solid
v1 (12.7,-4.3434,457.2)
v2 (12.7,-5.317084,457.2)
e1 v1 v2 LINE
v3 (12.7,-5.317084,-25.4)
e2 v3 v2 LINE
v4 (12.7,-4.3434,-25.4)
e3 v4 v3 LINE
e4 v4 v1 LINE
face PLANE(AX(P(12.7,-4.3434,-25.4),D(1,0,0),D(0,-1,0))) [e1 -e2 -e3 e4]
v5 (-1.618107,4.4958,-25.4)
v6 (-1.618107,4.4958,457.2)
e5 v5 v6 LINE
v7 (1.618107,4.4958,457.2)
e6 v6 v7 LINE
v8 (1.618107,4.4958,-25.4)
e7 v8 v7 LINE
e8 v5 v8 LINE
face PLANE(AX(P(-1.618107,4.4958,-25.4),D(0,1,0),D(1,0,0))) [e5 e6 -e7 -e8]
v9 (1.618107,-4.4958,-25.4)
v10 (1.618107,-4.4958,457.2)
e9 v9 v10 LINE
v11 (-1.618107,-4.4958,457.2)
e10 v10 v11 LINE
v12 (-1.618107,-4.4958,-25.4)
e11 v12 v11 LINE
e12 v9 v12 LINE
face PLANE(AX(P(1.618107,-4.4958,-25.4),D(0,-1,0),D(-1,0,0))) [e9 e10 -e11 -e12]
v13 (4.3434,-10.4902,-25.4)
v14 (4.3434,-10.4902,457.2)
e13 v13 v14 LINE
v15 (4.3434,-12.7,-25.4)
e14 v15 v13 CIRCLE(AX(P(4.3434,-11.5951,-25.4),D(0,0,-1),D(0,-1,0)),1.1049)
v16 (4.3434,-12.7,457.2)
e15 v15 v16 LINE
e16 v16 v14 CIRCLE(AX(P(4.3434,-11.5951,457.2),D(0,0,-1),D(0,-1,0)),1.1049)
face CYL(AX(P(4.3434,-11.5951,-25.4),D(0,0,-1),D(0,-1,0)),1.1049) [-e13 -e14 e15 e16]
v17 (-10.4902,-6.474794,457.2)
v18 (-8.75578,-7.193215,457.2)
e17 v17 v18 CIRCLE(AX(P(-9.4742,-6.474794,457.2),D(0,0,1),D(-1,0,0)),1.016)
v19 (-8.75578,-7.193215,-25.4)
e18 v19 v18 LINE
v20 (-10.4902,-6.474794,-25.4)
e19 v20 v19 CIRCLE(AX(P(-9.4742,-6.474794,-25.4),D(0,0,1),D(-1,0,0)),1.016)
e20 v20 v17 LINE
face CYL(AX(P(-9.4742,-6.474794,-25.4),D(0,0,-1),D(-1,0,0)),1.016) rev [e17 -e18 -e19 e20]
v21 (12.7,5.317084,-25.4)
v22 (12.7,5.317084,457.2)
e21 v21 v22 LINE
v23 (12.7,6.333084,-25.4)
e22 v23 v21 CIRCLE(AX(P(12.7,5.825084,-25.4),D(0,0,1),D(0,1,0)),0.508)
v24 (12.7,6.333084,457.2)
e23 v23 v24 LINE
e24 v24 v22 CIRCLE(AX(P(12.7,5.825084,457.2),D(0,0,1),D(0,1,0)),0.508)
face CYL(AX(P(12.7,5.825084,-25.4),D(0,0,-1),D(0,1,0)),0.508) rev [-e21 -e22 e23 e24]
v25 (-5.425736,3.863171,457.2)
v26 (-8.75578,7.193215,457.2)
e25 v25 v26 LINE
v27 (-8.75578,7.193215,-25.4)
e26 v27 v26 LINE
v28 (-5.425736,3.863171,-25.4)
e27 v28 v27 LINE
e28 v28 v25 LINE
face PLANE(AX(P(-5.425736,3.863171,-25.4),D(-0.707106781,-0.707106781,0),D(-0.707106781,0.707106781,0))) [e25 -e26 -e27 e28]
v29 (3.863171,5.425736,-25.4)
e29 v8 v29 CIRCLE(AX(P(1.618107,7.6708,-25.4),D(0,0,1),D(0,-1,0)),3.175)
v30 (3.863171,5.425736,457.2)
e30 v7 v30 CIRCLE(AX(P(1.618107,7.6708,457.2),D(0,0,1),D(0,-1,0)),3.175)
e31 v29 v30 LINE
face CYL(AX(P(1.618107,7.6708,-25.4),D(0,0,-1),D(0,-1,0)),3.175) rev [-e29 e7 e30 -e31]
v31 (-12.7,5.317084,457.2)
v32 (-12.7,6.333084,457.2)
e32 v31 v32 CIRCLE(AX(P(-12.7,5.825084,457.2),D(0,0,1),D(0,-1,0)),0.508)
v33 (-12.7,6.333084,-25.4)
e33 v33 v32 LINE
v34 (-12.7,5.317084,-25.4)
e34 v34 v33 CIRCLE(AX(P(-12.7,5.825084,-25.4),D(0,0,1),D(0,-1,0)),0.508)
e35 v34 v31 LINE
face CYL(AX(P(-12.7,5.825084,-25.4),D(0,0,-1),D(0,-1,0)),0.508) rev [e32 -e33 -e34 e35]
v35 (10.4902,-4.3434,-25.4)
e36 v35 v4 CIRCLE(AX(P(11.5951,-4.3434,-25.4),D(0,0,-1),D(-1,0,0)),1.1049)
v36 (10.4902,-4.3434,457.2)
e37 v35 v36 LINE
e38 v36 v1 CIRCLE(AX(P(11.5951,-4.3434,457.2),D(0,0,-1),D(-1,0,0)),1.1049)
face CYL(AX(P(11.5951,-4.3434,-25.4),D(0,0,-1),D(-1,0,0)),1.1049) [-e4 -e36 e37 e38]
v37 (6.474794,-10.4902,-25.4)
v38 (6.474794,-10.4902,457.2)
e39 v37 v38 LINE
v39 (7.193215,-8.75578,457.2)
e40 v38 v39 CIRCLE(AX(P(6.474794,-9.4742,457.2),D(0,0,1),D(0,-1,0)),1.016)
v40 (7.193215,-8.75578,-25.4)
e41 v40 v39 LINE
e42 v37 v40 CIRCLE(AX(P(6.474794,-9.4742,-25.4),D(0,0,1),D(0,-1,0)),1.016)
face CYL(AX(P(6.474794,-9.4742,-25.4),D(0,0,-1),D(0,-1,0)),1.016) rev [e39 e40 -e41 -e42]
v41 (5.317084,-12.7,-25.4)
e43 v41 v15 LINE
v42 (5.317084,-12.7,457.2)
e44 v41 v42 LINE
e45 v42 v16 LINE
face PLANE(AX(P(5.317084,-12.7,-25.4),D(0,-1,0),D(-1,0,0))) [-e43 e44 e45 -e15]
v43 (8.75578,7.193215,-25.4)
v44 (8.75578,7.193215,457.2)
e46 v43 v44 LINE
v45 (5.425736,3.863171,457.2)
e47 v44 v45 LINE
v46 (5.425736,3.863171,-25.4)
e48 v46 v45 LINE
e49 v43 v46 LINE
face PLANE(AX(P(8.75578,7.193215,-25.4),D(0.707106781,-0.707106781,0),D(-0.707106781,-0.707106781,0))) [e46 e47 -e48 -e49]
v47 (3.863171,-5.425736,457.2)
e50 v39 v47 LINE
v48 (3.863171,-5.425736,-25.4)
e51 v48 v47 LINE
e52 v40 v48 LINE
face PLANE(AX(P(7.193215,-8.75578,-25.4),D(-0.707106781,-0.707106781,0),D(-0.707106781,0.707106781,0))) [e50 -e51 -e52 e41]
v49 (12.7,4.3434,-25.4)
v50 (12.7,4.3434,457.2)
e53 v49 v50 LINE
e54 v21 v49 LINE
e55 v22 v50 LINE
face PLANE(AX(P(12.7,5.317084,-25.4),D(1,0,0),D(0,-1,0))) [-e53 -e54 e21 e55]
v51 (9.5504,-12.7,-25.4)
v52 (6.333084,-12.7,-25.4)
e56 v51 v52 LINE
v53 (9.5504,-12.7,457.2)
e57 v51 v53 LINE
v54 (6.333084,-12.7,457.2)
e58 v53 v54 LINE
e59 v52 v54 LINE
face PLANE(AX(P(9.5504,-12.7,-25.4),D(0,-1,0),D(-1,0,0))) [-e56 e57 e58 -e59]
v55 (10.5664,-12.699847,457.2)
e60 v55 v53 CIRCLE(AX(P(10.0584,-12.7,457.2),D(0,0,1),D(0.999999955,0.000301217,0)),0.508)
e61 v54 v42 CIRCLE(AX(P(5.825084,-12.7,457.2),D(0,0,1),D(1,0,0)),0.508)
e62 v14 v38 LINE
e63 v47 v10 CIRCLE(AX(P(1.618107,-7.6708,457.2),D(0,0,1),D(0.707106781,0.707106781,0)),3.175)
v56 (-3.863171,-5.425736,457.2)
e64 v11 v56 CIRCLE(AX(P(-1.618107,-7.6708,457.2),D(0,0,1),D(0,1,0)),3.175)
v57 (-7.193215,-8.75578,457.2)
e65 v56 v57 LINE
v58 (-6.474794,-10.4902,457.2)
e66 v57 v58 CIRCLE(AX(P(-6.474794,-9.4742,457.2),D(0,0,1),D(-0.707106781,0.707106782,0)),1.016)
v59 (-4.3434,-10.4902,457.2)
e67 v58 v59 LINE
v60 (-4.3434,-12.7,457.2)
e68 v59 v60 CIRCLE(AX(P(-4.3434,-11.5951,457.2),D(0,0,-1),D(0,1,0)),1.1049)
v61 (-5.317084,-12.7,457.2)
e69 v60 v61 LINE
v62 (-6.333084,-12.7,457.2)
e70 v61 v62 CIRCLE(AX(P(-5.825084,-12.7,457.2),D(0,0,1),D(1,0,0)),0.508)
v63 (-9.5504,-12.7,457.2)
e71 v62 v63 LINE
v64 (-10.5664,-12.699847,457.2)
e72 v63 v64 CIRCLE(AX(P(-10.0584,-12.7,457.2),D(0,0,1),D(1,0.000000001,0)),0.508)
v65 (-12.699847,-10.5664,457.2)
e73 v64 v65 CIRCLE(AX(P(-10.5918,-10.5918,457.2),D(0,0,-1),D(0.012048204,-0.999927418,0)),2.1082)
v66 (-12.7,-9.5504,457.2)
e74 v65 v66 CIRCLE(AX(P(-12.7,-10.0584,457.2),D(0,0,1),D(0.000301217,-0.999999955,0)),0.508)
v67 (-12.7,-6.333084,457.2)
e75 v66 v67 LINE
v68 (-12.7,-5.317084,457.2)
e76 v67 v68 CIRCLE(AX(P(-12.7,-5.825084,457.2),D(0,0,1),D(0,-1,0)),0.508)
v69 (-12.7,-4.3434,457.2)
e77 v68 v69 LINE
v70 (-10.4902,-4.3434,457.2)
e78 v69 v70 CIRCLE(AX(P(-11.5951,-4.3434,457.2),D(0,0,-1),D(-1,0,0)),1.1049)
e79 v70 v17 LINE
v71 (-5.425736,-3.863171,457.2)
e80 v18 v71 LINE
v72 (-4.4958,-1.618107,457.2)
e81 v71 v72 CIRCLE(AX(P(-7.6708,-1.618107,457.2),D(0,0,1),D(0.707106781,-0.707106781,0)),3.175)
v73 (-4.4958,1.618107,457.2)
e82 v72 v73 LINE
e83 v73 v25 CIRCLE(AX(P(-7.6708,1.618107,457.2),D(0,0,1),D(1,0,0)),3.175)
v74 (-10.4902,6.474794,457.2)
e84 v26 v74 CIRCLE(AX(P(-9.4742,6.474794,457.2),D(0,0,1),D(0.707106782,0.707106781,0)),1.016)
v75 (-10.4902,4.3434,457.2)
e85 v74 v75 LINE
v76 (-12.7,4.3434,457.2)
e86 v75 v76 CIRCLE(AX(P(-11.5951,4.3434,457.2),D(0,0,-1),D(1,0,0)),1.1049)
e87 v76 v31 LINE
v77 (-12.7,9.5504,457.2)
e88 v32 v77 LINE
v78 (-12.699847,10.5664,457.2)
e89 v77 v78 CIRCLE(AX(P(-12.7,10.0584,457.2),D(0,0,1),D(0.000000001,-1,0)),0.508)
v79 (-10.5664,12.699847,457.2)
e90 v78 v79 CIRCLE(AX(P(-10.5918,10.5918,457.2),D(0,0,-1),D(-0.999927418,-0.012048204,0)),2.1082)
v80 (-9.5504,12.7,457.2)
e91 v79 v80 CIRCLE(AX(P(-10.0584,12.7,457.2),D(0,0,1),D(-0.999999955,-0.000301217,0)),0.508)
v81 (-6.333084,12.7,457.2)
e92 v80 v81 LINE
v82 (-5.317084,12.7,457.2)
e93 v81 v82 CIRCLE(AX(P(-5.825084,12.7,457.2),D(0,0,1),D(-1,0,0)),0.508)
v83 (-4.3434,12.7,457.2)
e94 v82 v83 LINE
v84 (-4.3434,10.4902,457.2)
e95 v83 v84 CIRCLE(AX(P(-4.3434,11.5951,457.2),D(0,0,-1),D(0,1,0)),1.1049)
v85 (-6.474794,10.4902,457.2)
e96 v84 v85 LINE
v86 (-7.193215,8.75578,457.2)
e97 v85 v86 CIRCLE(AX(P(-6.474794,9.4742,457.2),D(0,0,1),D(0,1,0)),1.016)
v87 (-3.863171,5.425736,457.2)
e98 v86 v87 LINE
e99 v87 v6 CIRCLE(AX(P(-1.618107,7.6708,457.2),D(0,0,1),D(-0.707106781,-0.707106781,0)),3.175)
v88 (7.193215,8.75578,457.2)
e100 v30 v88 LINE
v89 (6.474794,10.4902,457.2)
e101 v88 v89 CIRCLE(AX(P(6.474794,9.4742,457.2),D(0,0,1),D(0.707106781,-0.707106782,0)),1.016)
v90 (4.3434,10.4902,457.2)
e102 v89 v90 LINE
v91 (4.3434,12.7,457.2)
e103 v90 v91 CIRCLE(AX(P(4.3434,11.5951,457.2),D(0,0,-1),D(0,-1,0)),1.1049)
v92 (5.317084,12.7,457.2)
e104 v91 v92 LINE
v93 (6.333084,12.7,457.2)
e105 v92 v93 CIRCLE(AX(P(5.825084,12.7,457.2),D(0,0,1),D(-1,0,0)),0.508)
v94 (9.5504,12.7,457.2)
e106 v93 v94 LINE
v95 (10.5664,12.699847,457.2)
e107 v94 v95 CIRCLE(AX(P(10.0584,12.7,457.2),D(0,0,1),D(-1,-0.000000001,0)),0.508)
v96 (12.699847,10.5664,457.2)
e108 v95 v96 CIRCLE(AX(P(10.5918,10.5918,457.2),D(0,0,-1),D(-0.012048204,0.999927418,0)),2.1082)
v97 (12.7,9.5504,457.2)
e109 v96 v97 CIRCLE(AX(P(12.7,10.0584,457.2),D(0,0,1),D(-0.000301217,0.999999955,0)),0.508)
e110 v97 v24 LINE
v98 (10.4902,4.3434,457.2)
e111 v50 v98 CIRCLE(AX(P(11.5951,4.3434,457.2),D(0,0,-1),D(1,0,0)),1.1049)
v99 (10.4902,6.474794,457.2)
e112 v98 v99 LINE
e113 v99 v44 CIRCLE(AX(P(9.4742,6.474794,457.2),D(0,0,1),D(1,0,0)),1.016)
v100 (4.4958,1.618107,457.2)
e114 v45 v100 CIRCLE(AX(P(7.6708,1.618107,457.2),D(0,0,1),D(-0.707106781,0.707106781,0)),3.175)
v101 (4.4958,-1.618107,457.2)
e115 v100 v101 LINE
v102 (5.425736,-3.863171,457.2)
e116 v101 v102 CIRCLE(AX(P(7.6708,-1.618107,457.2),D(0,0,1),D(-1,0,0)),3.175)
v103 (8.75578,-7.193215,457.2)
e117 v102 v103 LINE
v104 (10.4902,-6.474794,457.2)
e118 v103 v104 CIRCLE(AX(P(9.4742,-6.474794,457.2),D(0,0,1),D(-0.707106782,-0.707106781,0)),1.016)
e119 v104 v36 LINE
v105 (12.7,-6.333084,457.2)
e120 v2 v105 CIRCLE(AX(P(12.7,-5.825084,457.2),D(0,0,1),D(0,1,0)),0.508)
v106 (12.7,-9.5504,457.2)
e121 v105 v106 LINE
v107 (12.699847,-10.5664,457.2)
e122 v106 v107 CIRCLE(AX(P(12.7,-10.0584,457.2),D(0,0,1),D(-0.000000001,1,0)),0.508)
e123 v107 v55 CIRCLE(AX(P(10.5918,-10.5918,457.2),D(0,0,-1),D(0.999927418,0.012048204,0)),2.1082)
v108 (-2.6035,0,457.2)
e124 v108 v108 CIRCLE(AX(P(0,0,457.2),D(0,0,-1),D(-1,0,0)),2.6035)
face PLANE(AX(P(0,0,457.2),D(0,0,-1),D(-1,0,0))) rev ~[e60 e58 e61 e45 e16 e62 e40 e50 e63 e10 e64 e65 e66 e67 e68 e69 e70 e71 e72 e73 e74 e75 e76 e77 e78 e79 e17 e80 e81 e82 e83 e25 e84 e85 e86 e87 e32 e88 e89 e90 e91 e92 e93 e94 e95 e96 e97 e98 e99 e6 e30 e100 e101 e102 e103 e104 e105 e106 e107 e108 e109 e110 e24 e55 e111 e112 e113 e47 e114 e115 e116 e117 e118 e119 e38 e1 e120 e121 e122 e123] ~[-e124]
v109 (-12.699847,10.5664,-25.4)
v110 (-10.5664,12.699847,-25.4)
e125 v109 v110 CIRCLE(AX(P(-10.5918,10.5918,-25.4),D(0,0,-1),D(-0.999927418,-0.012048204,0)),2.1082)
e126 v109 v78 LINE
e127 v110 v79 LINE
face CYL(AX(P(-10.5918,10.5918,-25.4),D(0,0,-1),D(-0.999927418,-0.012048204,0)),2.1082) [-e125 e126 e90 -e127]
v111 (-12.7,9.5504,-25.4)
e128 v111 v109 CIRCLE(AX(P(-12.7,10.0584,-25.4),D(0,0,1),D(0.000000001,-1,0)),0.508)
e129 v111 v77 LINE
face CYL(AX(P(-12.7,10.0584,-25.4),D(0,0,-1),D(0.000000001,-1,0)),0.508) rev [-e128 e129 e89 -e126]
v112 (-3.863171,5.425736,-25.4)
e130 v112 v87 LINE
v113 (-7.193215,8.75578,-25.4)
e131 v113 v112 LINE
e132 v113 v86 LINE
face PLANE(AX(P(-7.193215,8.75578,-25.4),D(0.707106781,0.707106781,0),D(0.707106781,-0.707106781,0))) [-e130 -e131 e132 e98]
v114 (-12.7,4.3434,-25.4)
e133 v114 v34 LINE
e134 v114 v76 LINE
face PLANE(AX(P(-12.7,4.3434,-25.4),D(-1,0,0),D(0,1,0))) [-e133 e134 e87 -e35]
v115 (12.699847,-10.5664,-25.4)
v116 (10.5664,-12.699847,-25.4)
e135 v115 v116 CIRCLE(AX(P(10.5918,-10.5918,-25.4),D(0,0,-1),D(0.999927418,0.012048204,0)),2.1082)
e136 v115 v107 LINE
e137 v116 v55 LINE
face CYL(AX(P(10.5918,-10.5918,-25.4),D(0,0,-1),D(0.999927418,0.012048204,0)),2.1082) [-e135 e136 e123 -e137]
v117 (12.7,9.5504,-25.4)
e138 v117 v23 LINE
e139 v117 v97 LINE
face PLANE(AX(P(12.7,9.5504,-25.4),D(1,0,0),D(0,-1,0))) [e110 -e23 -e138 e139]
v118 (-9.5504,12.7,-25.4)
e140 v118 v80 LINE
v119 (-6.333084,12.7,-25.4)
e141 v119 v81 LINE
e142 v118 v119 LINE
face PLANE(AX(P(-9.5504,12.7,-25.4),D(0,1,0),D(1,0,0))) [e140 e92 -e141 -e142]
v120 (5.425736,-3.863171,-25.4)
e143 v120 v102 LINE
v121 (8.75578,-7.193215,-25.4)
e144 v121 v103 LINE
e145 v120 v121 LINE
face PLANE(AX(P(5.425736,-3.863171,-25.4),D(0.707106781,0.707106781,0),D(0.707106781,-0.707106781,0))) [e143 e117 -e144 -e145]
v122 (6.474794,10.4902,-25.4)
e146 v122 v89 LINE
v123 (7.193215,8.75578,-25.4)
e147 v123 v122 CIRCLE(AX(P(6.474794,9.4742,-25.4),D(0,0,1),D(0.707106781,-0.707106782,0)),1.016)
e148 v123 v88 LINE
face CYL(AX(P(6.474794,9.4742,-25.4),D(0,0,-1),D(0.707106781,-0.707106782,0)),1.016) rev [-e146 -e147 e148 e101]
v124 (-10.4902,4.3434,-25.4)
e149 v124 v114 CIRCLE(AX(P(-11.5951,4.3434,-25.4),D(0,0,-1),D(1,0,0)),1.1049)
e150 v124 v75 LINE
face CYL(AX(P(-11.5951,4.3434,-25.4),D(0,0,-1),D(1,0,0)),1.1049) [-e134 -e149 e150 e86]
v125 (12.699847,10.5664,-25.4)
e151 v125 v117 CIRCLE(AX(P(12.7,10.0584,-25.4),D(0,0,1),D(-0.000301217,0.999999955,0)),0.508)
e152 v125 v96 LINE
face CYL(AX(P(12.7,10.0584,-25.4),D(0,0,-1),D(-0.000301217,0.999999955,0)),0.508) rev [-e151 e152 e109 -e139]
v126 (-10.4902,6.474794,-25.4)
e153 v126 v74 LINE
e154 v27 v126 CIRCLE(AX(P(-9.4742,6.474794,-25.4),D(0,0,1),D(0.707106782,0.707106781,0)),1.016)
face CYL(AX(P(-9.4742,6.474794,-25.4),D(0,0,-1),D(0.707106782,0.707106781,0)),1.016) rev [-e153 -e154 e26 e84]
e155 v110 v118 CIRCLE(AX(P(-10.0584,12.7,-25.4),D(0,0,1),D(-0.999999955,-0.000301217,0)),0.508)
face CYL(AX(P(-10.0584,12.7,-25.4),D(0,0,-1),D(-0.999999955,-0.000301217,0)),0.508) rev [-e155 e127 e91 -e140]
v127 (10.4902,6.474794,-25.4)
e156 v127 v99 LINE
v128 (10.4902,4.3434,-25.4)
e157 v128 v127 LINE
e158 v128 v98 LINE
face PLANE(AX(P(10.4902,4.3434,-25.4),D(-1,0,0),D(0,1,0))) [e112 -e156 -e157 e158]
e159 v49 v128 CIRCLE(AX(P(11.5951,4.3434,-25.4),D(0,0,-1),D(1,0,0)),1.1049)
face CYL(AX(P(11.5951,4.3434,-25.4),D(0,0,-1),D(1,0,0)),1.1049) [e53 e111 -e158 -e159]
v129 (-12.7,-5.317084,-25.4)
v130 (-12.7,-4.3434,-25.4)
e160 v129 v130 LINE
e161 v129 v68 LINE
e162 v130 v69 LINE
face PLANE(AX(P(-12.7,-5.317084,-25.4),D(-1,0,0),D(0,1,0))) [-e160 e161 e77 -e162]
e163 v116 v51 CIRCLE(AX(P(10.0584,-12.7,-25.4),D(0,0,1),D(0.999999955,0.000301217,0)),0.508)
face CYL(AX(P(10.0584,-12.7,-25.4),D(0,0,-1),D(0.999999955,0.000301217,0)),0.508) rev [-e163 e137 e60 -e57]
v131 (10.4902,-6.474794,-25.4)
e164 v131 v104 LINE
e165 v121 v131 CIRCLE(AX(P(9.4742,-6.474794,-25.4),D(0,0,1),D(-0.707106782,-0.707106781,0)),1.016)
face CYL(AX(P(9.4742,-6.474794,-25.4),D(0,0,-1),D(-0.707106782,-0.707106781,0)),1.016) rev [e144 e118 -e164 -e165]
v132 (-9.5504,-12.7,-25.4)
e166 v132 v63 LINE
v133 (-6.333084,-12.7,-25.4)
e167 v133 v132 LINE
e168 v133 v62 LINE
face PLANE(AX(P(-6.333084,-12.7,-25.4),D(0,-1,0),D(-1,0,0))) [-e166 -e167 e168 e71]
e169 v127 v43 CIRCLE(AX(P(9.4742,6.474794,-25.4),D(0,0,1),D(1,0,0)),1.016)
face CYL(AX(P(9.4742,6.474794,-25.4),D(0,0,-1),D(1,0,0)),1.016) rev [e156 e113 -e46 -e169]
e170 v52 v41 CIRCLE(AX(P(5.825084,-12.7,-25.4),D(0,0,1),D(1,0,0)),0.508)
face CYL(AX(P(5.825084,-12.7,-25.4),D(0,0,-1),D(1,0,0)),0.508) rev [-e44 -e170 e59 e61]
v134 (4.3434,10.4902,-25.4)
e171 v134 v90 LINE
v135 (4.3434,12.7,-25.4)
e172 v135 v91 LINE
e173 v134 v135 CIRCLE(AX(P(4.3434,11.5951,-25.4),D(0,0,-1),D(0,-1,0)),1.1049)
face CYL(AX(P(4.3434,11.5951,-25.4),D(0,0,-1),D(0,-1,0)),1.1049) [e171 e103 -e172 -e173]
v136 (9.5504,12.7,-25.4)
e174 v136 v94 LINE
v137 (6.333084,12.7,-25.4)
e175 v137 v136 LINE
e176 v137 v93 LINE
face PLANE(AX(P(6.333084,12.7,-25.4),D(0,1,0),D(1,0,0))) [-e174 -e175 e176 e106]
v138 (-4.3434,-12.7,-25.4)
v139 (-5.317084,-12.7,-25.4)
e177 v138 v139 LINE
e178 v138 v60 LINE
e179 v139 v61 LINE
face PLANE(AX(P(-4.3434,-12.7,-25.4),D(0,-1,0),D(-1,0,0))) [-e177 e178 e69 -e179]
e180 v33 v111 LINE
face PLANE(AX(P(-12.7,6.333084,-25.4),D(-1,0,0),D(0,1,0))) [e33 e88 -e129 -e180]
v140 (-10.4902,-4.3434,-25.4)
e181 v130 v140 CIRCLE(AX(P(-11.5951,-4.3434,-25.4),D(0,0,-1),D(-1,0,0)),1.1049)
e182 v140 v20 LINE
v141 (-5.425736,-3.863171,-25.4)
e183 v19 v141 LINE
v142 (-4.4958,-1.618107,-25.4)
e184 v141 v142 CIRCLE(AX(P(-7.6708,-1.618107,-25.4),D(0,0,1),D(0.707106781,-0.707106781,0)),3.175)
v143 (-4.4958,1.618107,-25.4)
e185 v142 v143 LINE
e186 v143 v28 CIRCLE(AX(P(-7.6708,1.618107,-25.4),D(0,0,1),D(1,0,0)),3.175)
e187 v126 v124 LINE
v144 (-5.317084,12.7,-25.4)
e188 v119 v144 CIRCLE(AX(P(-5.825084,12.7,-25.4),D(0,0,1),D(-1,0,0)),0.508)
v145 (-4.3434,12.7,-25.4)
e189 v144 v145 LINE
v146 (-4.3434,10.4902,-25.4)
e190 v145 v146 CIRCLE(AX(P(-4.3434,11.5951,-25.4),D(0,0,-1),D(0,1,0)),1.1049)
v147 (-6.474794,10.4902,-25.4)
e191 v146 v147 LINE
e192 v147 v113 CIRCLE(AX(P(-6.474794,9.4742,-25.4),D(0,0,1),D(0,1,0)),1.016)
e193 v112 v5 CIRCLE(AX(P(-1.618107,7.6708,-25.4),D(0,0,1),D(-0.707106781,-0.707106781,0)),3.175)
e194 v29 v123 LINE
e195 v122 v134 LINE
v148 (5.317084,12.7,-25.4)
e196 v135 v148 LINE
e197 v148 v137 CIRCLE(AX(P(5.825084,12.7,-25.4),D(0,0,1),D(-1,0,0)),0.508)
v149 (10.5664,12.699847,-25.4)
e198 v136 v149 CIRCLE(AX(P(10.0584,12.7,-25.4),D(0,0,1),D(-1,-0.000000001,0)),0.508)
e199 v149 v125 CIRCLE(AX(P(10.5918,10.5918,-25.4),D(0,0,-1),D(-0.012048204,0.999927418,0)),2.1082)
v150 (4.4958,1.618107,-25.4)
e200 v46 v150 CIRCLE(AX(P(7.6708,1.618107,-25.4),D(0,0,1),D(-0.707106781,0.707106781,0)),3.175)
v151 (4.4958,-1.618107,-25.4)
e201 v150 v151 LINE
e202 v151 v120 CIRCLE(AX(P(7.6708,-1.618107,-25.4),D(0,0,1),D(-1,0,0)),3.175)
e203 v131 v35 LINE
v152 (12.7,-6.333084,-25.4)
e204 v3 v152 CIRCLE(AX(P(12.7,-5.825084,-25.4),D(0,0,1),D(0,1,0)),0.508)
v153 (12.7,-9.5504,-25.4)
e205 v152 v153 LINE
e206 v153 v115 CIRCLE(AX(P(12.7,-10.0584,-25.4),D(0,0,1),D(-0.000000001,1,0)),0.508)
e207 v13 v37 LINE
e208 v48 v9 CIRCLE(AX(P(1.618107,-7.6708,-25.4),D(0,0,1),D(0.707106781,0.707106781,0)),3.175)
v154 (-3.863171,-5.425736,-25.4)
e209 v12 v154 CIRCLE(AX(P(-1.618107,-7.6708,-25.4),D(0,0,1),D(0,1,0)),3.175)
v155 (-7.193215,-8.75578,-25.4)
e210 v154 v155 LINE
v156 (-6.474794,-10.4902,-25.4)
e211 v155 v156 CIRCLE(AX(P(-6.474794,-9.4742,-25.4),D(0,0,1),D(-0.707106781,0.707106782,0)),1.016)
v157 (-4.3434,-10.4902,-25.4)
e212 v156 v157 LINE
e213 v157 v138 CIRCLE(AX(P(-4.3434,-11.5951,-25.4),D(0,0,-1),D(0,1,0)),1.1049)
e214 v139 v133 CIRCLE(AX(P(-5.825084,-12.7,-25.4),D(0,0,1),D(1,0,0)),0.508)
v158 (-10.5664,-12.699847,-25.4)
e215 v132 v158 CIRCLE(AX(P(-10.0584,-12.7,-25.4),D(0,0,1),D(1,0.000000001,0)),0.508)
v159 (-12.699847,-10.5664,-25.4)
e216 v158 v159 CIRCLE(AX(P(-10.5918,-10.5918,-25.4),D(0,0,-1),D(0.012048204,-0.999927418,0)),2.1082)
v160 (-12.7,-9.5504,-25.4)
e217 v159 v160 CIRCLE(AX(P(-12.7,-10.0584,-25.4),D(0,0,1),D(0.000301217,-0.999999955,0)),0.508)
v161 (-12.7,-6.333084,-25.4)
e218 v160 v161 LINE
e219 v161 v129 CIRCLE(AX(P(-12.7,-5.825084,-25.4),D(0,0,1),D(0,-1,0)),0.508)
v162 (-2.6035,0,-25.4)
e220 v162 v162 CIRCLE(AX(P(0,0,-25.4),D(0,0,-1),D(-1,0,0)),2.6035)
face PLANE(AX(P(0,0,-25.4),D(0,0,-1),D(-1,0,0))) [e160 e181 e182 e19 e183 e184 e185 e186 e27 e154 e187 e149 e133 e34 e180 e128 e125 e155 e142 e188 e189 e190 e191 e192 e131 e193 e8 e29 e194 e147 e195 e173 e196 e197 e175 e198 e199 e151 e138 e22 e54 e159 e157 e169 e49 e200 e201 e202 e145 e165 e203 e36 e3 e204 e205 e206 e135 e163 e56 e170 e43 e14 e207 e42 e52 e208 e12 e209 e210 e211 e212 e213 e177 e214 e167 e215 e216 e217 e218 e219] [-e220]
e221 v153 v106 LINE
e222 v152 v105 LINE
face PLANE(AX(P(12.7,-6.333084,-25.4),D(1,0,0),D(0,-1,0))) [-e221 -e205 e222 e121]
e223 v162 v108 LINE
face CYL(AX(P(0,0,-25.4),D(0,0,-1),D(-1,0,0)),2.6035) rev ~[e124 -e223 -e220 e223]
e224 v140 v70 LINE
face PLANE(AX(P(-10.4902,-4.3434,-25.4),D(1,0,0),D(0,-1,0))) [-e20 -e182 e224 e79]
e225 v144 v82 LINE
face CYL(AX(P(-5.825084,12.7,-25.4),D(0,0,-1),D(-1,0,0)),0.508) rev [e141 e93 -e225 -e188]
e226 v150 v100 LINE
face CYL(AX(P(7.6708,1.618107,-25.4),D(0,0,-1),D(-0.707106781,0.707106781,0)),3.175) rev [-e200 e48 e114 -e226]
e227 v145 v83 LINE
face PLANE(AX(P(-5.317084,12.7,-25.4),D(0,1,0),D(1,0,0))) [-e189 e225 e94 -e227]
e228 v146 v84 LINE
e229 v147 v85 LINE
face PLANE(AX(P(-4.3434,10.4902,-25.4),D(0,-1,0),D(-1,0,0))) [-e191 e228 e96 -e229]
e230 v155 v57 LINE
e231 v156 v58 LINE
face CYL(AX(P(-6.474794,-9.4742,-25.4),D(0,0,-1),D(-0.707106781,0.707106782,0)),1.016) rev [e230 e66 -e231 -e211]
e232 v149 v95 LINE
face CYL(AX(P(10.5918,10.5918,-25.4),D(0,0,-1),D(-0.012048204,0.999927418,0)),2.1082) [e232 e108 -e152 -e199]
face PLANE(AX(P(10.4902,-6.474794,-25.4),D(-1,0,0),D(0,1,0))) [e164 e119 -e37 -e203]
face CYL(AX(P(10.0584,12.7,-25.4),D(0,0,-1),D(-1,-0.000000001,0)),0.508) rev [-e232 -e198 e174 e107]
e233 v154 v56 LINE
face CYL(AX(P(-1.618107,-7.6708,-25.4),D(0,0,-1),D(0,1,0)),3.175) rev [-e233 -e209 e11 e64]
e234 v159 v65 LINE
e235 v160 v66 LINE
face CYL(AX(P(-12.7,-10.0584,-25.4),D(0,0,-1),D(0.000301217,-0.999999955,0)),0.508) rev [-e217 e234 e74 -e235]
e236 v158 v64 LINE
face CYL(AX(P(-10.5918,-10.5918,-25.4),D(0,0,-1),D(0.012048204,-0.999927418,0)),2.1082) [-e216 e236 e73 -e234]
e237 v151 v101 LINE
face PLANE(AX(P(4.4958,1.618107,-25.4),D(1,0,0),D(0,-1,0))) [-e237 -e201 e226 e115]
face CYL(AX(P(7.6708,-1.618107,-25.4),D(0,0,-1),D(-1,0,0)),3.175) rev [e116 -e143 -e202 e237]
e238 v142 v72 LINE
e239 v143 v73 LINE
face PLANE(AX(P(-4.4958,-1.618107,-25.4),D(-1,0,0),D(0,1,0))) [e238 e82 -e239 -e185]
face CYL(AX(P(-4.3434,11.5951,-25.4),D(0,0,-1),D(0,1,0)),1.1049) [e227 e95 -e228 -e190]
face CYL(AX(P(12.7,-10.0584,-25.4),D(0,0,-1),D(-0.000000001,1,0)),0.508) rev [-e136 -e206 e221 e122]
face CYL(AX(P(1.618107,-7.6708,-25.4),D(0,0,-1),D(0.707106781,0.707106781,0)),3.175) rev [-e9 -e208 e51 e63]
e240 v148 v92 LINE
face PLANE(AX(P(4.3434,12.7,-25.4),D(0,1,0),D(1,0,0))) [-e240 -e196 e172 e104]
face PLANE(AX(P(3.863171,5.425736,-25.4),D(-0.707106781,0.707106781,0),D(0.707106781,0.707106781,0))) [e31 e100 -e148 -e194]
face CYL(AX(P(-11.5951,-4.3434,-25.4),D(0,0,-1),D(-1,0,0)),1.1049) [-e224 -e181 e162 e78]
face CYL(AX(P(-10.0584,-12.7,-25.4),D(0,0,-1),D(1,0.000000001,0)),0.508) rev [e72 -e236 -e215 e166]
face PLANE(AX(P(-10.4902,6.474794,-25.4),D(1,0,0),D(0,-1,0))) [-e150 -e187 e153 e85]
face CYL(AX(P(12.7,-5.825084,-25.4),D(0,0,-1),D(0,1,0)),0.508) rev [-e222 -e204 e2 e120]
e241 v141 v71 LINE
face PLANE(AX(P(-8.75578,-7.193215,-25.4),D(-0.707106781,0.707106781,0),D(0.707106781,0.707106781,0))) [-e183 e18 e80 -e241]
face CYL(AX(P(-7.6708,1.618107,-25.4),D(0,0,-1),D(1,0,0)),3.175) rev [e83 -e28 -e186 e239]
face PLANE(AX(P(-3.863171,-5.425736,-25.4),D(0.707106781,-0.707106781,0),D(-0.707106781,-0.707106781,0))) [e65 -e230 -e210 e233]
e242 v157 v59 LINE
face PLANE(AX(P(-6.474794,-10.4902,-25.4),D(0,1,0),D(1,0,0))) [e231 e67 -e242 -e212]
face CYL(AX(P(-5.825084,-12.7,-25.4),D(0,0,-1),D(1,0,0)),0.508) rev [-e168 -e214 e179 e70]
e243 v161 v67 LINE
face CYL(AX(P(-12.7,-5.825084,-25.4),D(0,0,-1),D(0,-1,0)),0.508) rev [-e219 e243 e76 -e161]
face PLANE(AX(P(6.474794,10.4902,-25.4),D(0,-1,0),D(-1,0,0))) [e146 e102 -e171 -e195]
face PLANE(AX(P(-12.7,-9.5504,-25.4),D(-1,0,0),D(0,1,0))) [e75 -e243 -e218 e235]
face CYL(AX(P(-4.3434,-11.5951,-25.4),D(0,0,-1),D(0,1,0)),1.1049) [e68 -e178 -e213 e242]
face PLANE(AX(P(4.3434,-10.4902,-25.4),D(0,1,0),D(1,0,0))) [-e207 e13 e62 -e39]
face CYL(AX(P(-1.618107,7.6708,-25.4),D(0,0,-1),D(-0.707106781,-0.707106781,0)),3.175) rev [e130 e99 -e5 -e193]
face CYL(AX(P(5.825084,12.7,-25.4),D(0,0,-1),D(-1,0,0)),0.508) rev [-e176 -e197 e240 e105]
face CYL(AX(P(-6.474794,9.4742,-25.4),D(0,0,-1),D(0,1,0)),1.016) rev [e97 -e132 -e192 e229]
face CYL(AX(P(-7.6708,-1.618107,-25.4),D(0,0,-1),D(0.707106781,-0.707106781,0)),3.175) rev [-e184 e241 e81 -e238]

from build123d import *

# Parameters (mm, degrees)
SKETCH1_R           = 2.6035
BOSS_EXTRUDE1_DEPTH = 482.6


with BuildPart() as part:
    # Sketch1 → Boss-Extrude1 (new body)
    with BuildSketch(Plane(origin=(0, 0, -25.4), x_dir=(-1, 0, 0), z_dir=(0, 0, -1))):
        with BuildLine():
            Line((12.7, -9.5504), (12.7, -6.3330836))
            ThreePointArc((12.7, -6.3330836), (12.192, -5.8250836), (12.7, -5.3170836))
            Line((12.7, -5.3170836), (12.7, -4.3434))
            ThreePointArc((12.7, -4.3434), (11.5951, -3.2385), (10.4902, -4.3434))
            Line((10.4902, -4.3434), (10.4902, -6.474794456))
            ThreePointArc((10.4902, -6.474794456), (9.863006367, -7.413456061), (8.75577951, -7.193214945))
            Line((8.75577951, -7.193214945), (5.42573597, -3.863171405))
            ThreePointArc((5.42573597, -3.863171405), (4.737482484, -2.833127272), (4.4958, -1.618107374))
            Line((4.4958, -1.618107374), (4.4958, 1.618107374))
            ThreePointArc((4.4958, 1.618107374), (4.737482484, 2.833127272), (5.42573597, 3.863171405))
            Line((5.42573597, 3.863171405), (8.75577951, 7.193214945))
            ThreePointArc((8.75577951, 7.193214945), (9.863006367, 7.413456061), (10.4902, 6.474794456))
            Line((10.4902, 6.474794456), (10.4902, 4.343399971))
            ThreePointArc((10.4902, 4.343399971), (11.5951, 3.238499971), (12.7, 4.343399971))
            Line((12.7, 4.343399971), (12.7, 5.3170836))
            ThreePointArc((12.7, 5.3170836), (12.192, 5.8250836), (12.7, 6.3330836))
            Line((12.7, 6.3330836), (12.7, 9.5504))
            ThreePointArc((12.7, 9.5504), (12.192000006, 10.058323491), (12.699846982, 10.566399977))
            ThreePointArc((12.699846982, 10.566399977), (12.082522516, 12.082522516), (10.566399977, 12.699846982))
            ThreePointArc((10.566399977, 12.699846982), (10.058323491, 12.192000006), (9.5504, 12.7))
            Line((9.5504, 12.7), (6.3330836, 12.7))
            ThreePointArc((6.3330836, 12.7), (5.8250836, 12.192), (5.3170836, 12.7))
            Line((5.3170836, 12.7), (4.3434, 12.7))
            ThreePointArc((4.3434, 12.7), (3.2385, 11.5951), (4.3434, 10.4902))
            Line((4.3434, 10.4902), (6.474794456, 10.4902))
            ThreePointArc((6.474794456, 10.4902), (7.413456061, 9.863006367), (7.193214945, 8.75577951))
            Line((7.193214945, 8.75577951), (3.863171405, 5.42573597))
            ThreePointArc((3.863171405, 5.42573597), (2.833127272, 4.737482484), (1.618107374, 4.4958))
            Line((1.618107374, 4.4958), (-1.618107374, 4.4958))
            ThreePointArc((-1.618107374, 4.4958), (-2.833127272, 4.737482484), (-3.863171405, 5.42573597))
            Line((-3.863171405, 5.42573597), (-7.193214945, 8.75577951))
            ThreePointArc((-7.193214945, 8.75577951), (-7.413456061, 9.863006367), (-6.474794456, 10.4902))
            Line((-6.474794456, 10.4902), (-4.343399971, 10.4902))
            ThreePointArc((-4.343399971, 10.4902), (-3.238499971, 11.5951), (-4.343399971, 12.7))
            Line((-4.343399971, 12.7), (-5.3170836, 12.7))
            ThreePointArc((-5.3170836, 12.7), (-5.8250836, 12.192), (-6.3330836, 12.7))
            Line((-6.3330836, 12.7), (-9.5504, 12.7))
            ThreePointArc((-9.5504, 12.7), (-10.058323491, 12.192000006), (-10.566399977, 12.699846982))
            ThreePointArc((-10.566399977, 12.699846982), (-12.082522516, 12.082522516), (-12.699846982, 10.566399977))
            ThreePointArc((-12.699846982, 10.566399977), (-12.192000006, 10.058323491), (-12.7, 9.5504))
            Line((-12.7, 9.5504), (-12.7, 6.3330836))
            ThreePointArc((-12.7, 6.3330836), (-12.192, 5.8250836), (-12.7, 5.3170836))
            Line((-12.7, 5.3170836), (-12.7, 4.3434))
            ThreePointArc((-12.7, 4.3434), (-11.5951, 3.2385), (-10.4902, 4.3434))
            Line((-10.4902, 4.3434), (-10.4902, 6.474794456))
            ThreePointArc((-10.4902, 6.474794456), (-9.863006367, 7.413456061), (-8.75577951, 7.193214945))
            Line((-8.75577951, 7.193214945), (-5.42573597, 3.863171405))
            ThreePointArc((-5.42573597, 3.863171405), (-4.737482484, 2.833127272), (-4.4958, 1.618107374))
            Line((-4.4958, 1.618107374), (-4.4958, -1.618107374))
            ThreePointArc((-4.4958, -1.618107374), (-4.737482484, -2.833127272), (-5.42573597, -3.863171405))
            Line((-5.42573597, -3.863171405), (-8.75577951, -7.193214945))
            ThreePointArc((-8.75577951, -7.193214945), (-9.863006367, -7.413456061), (-10.4902, -6.474794456))
            Line((-10.4902, -6.474794456), (-10.4902, -4.343399971))
            ThreePointArc((-10.4902, -4.343399971), (-11.5951, -3.238499971), (-12.7, -4.343399971))
            Line((-12.7, -4.343399971), (-12.7, -5.3170836))
            ThreePointArc((-12.7, -5.3170836), (-12.192, -5.8250836), (-12.7, -6.3330836))
            Line((-12.7, -6.3330836), (-12.7, -9.5504))
            ThreePointArc((-12.7, -9.5504), (-12.192000006, -10.058323491), (-12.699846982, -10.566399977))
            ThreePointArc((-12.699846982, -10.566399977), (-12.082522516, -12.082522516), (-10.566399977, -12.699846982))
            ThreePointArc((-10.566399977, -12.699846982), (-10.058323491, -12.192000006), (-9.5504, -12.7))
            Line((-9.5504, -12.7), (-6.3330836, -12.7))
            ThreePointArc((-6.3330836, -12.7), (-5.8250836, -12.192), (-5.3170836, -12.7))
            Line((-5.3170836, -12.7), (-4.3434, -12.7))
            ThreePointArc((-4.3434, -12.7), (-3.2385, -11.5951), (-4.3434, -10.4902))
            Line((-4.3434, -10.4902), (-6.474794456, -10.4902))
            ThreePointArc((-6.474794456, -10.4902), (-7.413456061, -9.863006367), (-7.193214945, -8.75577951))
            Line((-7.193214945, -8.75577951), (-3.863171405, -5.42573597))
            ThreePointArc((-3.863171405, -5.42573597), (-2.833127272, -4.737482484), (-1.618107374, -4.4958))
            Line((-1.618107374, -4.4958), (1.618107374, -4.4958))
            ThreePointArc((1.618107374, -4.4958), (2.833127272, -4.737482484), (3.863171405, -5.42573597))
            Line((3.863171405, -5.42573597), (7.193214945, -8.75577951))
            ThreePointArc((7.193214945, -8.75577951), (7.413456061, -9.863006367), (6.474794456, -10.4902))
            Line((6.474794456, -10.4902), (4.343399971, -10.4902))
            ThreePointArc((4.343399971, -10.4902), (3.238499971, -11.5951), (4.343399971, -12.7))
            Line((4.343399971, -12.7), (5.3170836, -12.7))
            ThreePointArc((5.3170836, -12.7), (5.8250836, -12.192), (6.3330836, -12.7))
            Line((6.3330836, -12.7), (9.5504, -12.7))
            ThreePointArc((9.5504, -12.7), (10.058323491, -12.192000006), (10.566399977, -12.699846982))
            ThreePointArc((10.566399977, -12.699846982), (12.082522516, -12.082522516), (12.699846982, -10.566399977))
            ThreePointArc((12.699846982, -10.566399977), (12.192000006, -10.058323491), (12.7, -9.5504))
        make_face()
        Circle(SKETCH1_R, mode=Mode.SUBTRACT)
    extrude(amount=-BOSS_EXTRUDE1_DEPTH)


solid = part.part
